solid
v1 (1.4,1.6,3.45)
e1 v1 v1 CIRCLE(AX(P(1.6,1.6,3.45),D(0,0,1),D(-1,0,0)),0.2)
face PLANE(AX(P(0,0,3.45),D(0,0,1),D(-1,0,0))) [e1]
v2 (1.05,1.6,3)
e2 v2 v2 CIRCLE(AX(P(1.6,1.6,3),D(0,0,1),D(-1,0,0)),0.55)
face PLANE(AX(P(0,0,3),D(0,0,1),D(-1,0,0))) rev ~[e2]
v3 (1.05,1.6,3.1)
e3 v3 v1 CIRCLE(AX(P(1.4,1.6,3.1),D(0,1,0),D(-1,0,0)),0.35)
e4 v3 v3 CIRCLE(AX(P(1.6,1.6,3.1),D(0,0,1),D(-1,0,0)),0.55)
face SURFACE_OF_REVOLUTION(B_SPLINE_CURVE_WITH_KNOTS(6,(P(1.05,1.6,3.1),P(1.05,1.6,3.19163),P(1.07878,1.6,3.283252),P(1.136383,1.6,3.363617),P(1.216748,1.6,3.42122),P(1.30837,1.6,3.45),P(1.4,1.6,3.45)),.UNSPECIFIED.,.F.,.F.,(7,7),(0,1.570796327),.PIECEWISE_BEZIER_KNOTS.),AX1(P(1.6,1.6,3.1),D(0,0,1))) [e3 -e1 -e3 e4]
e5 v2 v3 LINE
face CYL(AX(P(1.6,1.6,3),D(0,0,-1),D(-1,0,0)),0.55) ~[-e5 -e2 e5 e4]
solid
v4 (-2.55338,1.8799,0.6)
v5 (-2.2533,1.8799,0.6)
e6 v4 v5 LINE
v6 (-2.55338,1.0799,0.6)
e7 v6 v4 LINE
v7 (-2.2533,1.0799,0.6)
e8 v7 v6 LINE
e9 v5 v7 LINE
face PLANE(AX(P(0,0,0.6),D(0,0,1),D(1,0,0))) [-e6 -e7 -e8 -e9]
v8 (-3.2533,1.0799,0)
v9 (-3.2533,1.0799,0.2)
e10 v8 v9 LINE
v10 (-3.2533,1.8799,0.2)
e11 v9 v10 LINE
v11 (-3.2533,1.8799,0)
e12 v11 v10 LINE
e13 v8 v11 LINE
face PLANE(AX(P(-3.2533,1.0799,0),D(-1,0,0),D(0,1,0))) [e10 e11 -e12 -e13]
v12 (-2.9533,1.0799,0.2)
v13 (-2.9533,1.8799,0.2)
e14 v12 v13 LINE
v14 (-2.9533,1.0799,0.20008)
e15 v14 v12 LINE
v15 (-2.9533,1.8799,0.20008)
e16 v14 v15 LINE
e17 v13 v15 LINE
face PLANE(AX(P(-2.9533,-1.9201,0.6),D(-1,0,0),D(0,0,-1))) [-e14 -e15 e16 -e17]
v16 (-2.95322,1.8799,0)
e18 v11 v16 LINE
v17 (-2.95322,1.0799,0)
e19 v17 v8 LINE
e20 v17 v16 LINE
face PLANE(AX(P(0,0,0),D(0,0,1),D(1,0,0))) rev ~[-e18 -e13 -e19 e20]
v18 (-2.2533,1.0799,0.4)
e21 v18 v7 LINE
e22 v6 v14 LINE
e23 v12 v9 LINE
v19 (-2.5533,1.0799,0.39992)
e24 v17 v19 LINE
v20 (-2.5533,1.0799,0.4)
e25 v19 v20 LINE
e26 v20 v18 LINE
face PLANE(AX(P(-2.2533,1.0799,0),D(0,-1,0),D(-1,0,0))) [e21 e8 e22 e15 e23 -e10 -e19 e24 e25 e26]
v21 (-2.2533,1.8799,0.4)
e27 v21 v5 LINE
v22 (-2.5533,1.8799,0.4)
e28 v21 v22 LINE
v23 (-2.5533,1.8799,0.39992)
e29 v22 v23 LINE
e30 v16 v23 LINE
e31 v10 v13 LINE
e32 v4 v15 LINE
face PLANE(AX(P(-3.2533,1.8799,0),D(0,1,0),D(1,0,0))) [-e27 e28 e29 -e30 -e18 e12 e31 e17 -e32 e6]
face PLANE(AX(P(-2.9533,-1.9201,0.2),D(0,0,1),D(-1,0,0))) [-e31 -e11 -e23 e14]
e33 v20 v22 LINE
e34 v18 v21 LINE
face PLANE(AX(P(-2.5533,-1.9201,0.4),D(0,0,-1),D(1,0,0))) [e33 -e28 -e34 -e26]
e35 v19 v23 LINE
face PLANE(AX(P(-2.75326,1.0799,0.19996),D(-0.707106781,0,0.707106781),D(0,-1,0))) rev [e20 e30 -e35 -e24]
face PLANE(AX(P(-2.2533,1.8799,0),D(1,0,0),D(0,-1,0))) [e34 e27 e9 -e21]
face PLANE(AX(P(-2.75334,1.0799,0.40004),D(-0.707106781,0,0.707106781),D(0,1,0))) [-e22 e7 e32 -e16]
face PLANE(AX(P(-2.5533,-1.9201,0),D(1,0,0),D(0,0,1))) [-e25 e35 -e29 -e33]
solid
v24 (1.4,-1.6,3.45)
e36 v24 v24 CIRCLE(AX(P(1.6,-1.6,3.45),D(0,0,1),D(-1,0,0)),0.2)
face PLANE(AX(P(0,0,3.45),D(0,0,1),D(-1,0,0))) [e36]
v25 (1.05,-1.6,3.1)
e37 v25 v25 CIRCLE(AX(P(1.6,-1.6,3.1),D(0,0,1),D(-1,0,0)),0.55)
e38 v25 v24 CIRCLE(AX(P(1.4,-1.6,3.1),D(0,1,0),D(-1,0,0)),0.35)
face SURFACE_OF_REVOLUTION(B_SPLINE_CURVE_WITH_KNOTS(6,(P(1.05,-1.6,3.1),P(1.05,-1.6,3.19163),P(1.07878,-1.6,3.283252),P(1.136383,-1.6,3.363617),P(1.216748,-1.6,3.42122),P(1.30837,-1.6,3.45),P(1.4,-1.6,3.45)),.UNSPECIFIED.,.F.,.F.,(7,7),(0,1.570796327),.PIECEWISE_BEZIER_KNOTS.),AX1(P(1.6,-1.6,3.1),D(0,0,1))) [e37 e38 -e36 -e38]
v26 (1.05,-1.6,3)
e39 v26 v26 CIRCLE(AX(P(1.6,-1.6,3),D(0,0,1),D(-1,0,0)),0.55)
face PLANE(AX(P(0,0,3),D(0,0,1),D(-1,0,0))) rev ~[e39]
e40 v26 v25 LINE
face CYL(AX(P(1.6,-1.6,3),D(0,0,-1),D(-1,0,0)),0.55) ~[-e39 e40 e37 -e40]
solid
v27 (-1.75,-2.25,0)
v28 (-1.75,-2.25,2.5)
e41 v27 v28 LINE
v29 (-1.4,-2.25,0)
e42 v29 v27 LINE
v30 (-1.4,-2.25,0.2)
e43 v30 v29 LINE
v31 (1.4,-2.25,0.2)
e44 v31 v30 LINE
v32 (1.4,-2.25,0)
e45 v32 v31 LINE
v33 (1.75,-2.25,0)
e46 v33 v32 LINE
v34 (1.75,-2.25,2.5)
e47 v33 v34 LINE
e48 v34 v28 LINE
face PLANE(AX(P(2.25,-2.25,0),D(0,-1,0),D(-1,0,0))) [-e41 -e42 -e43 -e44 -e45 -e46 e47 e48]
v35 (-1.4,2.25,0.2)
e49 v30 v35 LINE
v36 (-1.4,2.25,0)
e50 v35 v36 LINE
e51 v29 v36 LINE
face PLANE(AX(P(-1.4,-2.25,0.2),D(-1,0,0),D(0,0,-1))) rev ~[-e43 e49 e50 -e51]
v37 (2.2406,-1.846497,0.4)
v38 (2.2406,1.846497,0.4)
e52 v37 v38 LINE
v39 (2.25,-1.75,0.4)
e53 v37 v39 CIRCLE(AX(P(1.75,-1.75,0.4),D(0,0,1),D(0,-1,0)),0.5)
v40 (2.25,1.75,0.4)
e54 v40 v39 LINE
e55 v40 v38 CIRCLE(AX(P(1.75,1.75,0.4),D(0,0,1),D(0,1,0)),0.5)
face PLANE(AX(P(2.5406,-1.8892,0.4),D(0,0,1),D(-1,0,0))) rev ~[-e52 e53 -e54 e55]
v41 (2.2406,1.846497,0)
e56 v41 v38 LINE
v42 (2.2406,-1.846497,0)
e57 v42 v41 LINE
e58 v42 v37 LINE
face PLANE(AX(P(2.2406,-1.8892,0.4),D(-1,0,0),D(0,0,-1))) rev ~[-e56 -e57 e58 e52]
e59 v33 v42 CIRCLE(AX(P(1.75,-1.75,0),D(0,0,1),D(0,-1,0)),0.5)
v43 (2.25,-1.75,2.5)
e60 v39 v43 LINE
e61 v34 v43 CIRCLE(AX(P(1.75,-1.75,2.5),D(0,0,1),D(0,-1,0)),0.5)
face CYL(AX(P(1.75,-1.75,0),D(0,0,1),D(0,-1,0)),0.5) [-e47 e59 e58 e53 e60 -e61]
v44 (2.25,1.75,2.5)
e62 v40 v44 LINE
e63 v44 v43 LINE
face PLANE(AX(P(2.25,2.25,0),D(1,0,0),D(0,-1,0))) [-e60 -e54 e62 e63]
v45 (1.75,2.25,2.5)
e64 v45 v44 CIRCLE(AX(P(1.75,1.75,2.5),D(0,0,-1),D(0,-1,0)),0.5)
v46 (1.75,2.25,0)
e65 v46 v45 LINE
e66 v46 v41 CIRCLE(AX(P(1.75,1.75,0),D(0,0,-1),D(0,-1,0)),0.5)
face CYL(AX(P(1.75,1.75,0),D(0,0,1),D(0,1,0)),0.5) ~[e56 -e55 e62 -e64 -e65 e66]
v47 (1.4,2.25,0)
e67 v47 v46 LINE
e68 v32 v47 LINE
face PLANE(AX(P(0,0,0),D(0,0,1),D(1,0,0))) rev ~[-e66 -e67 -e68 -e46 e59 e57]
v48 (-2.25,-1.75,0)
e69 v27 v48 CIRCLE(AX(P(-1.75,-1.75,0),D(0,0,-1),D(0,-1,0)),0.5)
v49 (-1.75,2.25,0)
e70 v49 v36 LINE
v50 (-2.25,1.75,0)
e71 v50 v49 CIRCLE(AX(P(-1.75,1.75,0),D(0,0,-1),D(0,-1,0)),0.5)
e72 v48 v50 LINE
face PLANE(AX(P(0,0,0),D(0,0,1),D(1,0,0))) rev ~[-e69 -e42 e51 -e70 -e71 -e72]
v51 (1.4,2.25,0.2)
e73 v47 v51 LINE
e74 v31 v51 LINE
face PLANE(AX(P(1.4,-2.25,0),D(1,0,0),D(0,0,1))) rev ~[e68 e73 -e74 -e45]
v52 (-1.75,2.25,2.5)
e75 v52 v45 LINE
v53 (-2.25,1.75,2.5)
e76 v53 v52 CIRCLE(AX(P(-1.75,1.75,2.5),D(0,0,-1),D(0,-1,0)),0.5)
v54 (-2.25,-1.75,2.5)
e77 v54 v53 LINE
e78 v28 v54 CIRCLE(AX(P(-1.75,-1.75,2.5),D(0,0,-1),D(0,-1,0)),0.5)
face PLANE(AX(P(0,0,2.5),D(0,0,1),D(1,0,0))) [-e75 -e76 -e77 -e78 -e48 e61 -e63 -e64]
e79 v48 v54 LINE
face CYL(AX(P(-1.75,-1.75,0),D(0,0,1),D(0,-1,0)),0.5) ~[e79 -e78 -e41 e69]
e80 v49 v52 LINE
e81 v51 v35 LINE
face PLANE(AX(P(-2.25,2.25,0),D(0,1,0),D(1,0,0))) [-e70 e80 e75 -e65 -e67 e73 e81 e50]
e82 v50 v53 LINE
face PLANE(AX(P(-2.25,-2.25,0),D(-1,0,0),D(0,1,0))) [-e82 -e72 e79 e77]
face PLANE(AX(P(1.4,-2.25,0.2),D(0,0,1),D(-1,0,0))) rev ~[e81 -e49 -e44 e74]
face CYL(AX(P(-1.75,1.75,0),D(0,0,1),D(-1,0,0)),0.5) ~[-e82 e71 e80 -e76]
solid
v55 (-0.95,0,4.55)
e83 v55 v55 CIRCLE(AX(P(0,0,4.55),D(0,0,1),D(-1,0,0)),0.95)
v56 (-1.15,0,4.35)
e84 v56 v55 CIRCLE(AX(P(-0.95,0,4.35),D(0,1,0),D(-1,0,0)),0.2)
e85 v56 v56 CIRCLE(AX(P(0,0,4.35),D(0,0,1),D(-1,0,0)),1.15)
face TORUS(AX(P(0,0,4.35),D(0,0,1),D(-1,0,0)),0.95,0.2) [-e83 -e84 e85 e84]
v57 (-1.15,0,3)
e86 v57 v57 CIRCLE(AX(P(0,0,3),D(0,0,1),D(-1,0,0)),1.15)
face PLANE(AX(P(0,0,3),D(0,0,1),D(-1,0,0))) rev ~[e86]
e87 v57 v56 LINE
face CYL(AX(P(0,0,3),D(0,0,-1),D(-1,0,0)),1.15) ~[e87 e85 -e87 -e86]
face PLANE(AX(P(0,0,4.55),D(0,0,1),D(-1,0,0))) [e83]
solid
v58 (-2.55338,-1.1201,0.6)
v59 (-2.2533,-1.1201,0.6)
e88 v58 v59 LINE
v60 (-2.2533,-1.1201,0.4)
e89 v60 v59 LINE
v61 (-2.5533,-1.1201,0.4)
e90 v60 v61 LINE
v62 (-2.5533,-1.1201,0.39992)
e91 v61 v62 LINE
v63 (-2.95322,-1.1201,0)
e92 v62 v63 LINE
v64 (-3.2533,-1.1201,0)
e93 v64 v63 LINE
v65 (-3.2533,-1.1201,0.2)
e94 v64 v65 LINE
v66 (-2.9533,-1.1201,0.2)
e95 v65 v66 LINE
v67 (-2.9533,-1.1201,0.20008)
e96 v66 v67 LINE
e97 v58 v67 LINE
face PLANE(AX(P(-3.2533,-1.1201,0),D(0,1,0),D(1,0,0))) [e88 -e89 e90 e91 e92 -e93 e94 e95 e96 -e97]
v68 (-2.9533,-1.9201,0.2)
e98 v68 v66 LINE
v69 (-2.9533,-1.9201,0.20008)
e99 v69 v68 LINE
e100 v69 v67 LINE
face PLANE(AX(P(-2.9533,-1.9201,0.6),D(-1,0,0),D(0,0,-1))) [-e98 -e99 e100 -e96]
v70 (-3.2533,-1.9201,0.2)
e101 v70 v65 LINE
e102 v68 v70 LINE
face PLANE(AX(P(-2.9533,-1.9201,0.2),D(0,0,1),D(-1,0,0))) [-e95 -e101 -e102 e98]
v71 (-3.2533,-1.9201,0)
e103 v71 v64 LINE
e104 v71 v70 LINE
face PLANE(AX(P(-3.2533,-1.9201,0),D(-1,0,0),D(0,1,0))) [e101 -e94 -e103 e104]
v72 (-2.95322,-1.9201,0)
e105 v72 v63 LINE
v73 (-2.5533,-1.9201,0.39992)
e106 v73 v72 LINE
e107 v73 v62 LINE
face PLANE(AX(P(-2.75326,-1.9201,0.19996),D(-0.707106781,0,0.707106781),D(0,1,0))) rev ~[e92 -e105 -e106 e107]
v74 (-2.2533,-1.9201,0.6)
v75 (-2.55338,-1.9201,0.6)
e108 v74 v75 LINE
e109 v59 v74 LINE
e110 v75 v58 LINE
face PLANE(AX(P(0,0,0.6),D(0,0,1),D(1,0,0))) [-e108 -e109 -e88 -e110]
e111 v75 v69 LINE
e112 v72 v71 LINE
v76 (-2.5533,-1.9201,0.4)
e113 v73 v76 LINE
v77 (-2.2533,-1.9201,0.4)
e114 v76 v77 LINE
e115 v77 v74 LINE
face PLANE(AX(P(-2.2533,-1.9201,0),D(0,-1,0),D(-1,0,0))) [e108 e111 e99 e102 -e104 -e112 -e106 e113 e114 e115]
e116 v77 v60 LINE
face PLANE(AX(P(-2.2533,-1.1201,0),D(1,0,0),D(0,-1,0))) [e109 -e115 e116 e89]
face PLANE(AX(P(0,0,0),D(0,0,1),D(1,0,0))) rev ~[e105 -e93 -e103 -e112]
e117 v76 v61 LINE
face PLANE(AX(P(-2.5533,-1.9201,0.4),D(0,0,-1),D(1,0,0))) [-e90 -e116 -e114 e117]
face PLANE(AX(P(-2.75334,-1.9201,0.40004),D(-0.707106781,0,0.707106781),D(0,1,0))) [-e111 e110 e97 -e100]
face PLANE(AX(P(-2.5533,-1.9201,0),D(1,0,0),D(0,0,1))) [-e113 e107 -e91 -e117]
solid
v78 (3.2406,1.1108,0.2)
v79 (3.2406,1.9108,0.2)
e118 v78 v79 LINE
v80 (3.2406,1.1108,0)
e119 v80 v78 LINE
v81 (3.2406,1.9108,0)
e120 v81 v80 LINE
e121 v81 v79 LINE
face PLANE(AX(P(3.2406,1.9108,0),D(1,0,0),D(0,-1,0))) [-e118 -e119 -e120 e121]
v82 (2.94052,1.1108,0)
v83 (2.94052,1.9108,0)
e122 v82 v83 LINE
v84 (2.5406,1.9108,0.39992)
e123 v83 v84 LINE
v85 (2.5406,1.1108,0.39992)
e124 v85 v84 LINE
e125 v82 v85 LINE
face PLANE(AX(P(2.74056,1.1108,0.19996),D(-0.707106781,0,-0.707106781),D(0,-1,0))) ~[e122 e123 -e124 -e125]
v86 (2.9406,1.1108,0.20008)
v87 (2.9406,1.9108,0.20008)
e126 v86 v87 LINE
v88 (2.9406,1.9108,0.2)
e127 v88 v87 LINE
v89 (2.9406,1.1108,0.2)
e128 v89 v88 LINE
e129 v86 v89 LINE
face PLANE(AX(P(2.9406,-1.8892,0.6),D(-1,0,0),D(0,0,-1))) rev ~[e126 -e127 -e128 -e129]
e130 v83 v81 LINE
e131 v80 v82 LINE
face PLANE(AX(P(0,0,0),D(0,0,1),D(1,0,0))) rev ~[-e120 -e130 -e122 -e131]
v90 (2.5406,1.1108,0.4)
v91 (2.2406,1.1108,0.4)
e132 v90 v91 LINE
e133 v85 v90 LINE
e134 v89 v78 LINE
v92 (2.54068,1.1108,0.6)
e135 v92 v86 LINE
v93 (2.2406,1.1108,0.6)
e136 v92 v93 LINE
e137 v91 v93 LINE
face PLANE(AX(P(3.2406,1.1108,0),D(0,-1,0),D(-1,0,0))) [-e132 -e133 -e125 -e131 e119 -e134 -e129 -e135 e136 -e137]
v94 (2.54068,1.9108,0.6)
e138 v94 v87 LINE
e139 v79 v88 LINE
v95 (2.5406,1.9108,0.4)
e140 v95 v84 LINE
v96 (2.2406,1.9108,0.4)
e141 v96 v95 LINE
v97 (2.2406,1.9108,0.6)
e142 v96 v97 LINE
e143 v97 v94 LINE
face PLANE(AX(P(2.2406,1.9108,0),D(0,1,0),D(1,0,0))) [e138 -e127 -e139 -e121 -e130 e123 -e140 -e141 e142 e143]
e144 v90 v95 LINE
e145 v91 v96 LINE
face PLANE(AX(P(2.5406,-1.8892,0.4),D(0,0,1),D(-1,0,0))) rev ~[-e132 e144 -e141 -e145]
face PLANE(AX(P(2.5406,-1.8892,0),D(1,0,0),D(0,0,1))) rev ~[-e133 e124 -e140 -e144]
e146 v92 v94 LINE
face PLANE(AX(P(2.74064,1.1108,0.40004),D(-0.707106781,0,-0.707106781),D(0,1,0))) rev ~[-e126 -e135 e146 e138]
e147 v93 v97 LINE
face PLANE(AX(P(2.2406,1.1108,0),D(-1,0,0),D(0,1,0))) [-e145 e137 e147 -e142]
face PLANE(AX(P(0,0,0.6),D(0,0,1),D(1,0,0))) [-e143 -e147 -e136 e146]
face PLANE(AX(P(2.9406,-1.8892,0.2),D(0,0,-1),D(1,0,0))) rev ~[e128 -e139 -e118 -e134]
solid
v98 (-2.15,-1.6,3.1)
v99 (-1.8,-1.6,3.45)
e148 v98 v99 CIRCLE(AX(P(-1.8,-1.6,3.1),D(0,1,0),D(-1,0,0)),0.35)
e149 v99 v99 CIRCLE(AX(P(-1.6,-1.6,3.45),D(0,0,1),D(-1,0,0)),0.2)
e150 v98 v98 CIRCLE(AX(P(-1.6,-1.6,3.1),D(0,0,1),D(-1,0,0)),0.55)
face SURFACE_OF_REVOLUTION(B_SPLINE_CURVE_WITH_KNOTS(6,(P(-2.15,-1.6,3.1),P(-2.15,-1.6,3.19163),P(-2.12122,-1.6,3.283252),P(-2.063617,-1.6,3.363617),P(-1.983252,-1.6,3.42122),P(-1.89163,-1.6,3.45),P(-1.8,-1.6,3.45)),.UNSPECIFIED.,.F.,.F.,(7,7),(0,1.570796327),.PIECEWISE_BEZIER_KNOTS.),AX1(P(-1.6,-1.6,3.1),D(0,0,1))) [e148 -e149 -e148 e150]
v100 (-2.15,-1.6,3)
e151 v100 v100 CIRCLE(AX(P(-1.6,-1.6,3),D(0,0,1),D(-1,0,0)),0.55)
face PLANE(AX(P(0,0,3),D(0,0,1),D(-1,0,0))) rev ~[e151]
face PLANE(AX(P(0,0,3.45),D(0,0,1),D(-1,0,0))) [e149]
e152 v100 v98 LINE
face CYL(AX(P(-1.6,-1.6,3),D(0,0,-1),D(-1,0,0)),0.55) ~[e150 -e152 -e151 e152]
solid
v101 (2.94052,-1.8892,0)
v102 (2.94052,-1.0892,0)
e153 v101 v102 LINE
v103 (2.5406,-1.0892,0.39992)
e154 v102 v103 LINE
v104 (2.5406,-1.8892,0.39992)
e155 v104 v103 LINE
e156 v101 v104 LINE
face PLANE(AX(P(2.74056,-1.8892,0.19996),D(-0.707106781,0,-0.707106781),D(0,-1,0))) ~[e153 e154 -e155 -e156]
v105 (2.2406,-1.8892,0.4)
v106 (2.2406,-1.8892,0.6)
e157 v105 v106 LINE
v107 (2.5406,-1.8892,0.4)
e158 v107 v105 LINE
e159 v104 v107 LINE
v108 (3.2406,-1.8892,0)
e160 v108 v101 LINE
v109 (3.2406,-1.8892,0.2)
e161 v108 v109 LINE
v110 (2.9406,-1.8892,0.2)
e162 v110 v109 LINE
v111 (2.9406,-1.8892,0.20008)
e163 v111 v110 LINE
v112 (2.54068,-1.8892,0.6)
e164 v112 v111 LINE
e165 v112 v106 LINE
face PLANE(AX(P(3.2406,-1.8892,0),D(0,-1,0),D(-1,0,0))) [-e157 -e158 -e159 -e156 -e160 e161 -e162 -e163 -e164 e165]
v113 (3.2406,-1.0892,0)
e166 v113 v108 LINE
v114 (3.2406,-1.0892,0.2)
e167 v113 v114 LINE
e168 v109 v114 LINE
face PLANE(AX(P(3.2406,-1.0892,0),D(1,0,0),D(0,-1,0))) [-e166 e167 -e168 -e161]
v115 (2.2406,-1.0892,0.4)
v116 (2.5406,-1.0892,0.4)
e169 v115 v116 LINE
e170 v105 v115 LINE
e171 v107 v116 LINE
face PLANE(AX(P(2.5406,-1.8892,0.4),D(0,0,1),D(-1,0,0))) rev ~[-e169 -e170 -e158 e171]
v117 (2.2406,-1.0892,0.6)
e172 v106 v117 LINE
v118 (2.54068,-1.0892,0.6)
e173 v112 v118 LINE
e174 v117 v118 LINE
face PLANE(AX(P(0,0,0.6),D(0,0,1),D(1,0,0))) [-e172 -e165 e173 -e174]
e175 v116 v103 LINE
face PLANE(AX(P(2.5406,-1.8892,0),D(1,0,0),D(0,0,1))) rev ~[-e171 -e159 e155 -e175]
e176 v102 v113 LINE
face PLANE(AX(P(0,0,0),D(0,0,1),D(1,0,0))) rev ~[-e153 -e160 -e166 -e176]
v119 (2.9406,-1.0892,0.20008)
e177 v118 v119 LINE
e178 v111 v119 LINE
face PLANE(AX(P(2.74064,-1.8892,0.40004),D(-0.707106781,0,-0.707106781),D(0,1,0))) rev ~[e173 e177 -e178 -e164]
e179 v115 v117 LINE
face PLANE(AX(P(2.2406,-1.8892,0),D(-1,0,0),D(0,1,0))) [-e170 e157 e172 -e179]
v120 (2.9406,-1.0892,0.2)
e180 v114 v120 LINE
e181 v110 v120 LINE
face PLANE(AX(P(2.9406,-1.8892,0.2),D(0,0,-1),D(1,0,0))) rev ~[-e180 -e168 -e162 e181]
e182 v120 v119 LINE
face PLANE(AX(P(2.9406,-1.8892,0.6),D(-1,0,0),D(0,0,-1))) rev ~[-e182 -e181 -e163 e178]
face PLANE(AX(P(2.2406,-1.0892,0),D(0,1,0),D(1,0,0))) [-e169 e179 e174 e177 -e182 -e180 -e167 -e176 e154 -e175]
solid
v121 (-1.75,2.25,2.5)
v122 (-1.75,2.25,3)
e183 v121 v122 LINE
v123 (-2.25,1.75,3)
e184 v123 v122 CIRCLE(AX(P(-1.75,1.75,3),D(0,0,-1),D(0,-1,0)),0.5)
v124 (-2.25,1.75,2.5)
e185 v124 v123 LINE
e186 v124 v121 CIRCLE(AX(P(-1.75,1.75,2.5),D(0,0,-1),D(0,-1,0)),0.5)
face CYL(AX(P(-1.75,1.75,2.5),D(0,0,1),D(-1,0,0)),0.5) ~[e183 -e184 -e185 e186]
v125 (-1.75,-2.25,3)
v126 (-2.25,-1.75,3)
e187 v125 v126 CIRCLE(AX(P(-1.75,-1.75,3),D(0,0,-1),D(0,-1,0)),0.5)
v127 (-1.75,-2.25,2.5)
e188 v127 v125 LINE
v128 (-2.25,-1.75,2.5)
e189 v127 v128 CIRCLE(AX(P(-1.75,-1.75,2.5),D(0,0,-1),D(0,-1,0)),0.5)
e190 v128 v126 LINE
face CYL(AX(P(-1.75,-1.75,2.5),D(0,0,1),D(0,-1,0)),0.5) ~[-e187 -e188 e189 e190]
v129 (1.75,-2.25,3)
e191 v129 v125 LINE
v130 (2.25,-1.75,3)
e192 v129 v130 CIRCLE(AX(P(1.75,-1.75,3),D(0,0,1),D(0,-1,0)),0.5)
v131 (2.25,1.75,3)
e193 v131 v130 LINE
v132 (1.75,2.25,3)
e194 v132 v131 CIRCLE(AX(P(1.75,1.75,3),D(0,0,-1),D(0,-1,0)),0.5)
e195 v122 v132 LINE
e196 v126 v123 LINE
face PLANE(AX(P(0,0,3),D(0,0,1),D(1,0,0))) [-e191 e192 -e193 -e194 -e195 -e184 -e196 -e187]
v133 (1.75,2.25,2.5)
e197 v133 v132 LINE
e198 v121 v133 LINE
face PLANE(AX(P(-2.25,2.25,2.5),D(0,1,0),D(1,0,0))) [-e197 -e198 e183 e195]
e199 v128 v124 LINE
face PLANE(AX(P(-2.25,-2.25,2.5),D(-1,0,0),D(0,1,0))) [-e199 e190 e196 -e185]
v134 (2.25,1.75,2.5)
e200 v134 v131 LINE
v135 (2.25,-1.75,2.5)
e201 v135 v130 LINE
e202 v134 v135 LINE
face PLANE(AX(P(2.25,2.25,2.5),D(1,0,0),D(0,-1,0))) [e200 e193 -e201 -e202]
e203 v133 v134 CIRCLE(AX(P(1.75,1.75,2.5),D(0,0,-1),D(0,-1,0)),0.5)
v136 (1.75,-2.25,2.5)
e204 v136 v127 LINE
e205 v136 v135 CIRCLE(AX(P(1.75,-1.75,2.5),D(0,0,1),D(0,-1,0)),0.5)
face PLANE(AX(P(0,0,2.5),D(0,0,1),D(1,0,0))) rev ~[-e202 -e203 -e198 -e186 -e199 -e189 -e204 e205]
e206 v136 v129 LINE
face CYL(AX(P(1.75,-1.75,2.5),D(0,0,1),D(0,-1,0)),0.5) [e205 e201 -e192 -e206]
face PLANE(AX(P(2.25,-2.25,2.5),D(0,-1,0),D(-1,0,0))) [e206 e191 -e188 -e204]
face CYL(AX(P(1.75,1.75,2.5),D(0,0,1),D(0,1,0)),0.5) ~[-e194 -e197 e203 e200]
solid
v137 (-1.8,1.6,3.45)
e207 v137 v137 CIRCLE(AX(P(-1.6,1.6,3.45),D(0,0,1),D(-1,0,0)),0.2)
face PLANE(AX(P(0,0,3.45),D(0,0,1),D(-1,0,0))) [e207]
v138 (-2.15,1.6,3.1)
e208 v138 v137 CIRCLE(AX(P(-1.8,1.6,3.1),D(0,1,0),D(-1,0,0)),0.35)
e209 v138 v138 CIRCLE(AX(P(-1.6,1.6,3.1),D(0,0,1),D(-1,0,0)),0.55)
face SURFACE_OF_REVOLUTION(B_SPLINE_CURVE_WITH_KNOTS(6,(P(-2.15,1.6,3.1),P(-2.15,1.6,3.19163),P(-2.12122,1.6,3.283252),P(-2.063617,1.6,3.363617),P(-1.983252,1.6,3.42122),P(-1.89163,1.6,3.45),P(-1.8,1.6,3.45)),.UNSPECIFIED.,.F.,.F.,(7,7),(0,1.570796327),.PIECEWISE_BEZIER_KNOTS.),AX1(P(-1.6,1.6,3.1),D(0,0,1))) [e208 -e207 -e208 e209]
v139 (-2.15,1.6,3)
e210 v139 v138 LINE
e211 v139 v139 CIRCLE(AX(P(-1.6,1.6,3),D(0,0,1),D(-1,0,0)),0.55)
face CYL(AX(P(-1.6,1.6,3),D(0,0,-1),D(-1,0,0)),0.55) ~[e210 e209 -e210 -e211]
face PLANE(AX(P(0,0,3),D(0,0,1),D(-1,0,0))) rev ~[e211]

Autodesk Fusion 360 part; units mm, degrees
sketch "Sketch1" plane through (0, 0, 0) normal (0, 0, 1) x (1, 0, 0)
  line L0 (2.25, -2.25) -> (-2.25, -2.25)
  line L1 (-2.25, -2.25) -> (-2.25, 2.25)
  line L2 (-2.25, 2.25) -> (2.25, 2.25)
  line L3 (2.25, 2.25) -> (2.25, -2.25)
  line L4 (2.25, -2.25) -> (-2.25, 2.25) construction
  line L5 (-2.25, -2.25) -> (2.25, 2.25) construction
  dimension "d1" = 4.5
  dimension "d2" = 4.5
extrude "Extrude1" add sketch "Sketch1" along normal blind 2.5 makes body 1
extrude "Extrude2" add 1 faces at (0.75, -0.75, 2.5) along direction (0, 0, 1) blind 0.5 separate body on bodies 1 makes body 2
sketch "Sketch2" plane through (0, 0, 3) normal (0, 0, 1) x (-1, 0, 0)
  line L0 (-2.25, -2.25) -> (2.25, -2.25)
  line L1 (2.25, -2.25) -> (2.25, 2.25)
  line L2 (2.25, 2.25) -> (-2.25, 2.25)
  line L3 (-2.25, 2.25) -> (-2.25, -2.25)
  circle A0 centre (0, 0) radius 1.15
  circle A1 centre (1.6, -1.6) radius 0.55
  circle A2 centre (-1.6, -1.6) radius 0.55
  circle A3 centre (1.6, 1.6) radius 0.55
  circle A4 centre (-1.6, 1.6) radius 0.55
  dimension "d7" = 2.3
  dimension "d8" = 1.1
  dimension "d9" = 0.65
  dimension "d10" = 0.65
  dimension "d13" = -3.2
  dimension "d14" = 3.2
extrude "Extrude3" add sketch "Sketch2" along normal blind 1.55 separate body contours A0 makes body 3
extrude "Extrude4" add sketch "Sketch2" along normal blind 0.45 separate body contours A1 | A2 | A3 | A4 makes body 4 at (-2.1473, 1.6548, 3.15) makes body 5 at (1.0527, 1.6548, 3.15) makes body 6 at (-2.1473, -1.5452, 3.15) makes body 7 at (1.0527, -1.5452, 3.15)
fillet "Fillet1" radius 0.5 8 edges at (2.25, -2.25, 1.25) (-2.25, -2.25, 1.25) (-2.25, 2.25, 1.25) (2.25, 2.25, 1.25) (2.25, -2.25, 2.75) (-2.25, -2.25, 2.75) (-2.25, 2.25, 2.75) (2.25, 2.25, 2.75) on bodies 1 2
fillet "Fillet2" radius 0.35 4 edges at (-1.0872, 1.7989, 3.45) (2.1128, 1.7989, 3.45) (-1.0872, -1.4011, 3.45) (2.1128, -1.4011, 3.45) on bodies 4 5 6 7
fillet "Fillet3" radius 0.2 1 edges at (1.0722, 0.4159, 4.55) on bodies 3
sketch "Sketch3" plane through (0, -2.25, 0) normal (0, -1, 0) x (1, 0, 0)
  line L0 (-1.75, 2.5) -> (-1.75, 0)
  line L1 (-1.75, 0) -> (1.75, 0)
  line L2 (1.75, 0) -> (1.75, 2.5)
  line L3 (1.75, 2.5) -> (-1.75, 2.5)
  line L4 (1.4, 0.2) -> (-1.4, 0.2)
  line L5 (-1.4, 0.2) -> (-1.4, 0)
  line L6 (1.4, 0) -> (1.4, 0.2)
extrude "Extrude5" cut sketch "Sketch3" against normal blind 4.5 contours L1 L4 L5 L6 bodies 1
sketch "Sketch4" plane through (0, 0, 0) normal (0, 0, 1) x (1, 0, 0)
  line L0 (-2.2533, 2.6048) -> (-2.2533, -2.6449) construction
  line L1 (3.1297, -2.259) -> (-2.9, -2.259) construction
  line L2 (-2.2533, -0.0201) -> (-2.2533, 1.4799) construction
  line L3 (-2.2533, -0.0201) -> (-2.2533, -1.5201) construction
  line L4 (2.2406, 0.0108) -> (2.2406, 1.5108) construction
  line L5 (2.2406, 0.0108) -> (2.2406, -1.4892) construction
  line L6 (-3.2533, 1.8799) -> (-2.2533, 1.8799)
  line L7 (-2.2533, 1.8799) -> (-2.2533, 1.0799)
  line L8 (-2.2533, 1.0799) -> (-3.2533, 1.0799)
  line L9 (-3.2533, 1.0799) -> (-3.2533, 1.8799)
  line L10 (-2.2533, 1.0799) -> (-3.2533, 1.8799) construction
  line L11 (-3.2533, 1.0799) -> (-2.2533, 1.8799) construction
  line L12 (-2.7533, 1.4799) -> (-3.2533, 1.4799) construction
  line L13 (-3.2533, 1.4799) -> (-2.7533, 1.4799) construction
  line L14 (-2.7533, 1.4799) -> (-2.2533, 1.4799) construction
  line L15 (3.2406, -1.0892) -> (3.2406, -1.8892)
  line L16 (2.2406, -1.8892) -> (3.2406, -1.0892) construction
  line L17 (2.2406, -1.4892) -> (2.7406, -1.4892) construction
  line L18 (2.7406, -1.4892) -> (2.2406, -1.4892) construction
  line L19 (2.7406, -1.4892) -> (3.2406, -1.4892) construction
  line L20 (3.2406, -1.8892) -> (2.2406, -1.8892)
  line L21 (3.2406, -1.8892) -> (2.2406, -1.0892) construction
  line L22 (2.2406, -1.8892) -> (2.2406, -1.0892)
  line L23 (2.2406, -1.0892) -> (3.2406, -1.0892)
  line L24 (2.2406, 1.5108) -> (2.7406, 1.5108) construction
  line L25 (3.2406, 1.9108) -> (3.2406, 1.1108)
  line L26 (2.7406, 1.5108) -> (3.2406, 1.5108) construction
  line L27 (2.2406, 1.1108) -> (3.2406, 1.9108) construction
  line L28 (3.2406, 1.1108) -> (2.2406, 1.9108) construction
  line L29 (3.2406, 1.1108) -> (2.2406, 1.1108)
  line L30 (2.2406, 1.1108) -> (2.2406, 1.9108)
  line L31 (2.2406, 1.9108) -> (3.2406, 1.9108)
  line L32 (2.7406, 1.5108) -> (2.2406, 1.5108) construction
  line L33 (-2.2533, -1.1201) -> (-2.2533, -1.9201)
  line L34 (-3.2533, -1.1201) -> (-2.2533, -1.1201)
  line L35 (-2.7533, -1.5201) -> (-2.2533, -1.5201) construction
  line L36 (-3.2533, -1.9201) -> (-2.2533, -1.1201) construction
  line L37 (-2.2533, -1.9201) -> (-3.2533, -1.1201) construction
  line L38 (-2.2533, -1.9201) -> (-3.2533, -1.9201)
  line L39 (-2.7533, -1.5201) -> (-3.2533, -1.5201) construction
  line L40 (-3.2533, -1.5201) -> (-2.7533, -1.5201) construction
  line L41 (-3.2533, -1.9201) -> (-3.2533, -1.1201)
  dimension "d27" = 1.5
  dimension "d28" = 1.5
  dimension "d29" = 1.5
  dimension "d30" = 1.5
  dimension "d31" = 1
  dimension "d32" = 0.8
  dimension "d33" = 1
  dimension "d34" = 0.8
  dimension "d35" = 1
  dimension "d36" = 0.8
  dimension "d37" = 1
  dimension "d38" = 0.8
extrude "Extrude6" add sketch "Sketch4" along normal blind 0.6 separate body makes body 8 at (-2.9199, -1.6534, 0) makes body 9 at (2.9073, -1.6226, 0) makes body 10 at (-2.9199, 1.3466, 0) makes body 11 at (2.574, 1.6441, 0)
sketch "Sketch5" plane through (0, -1.8892, 0) normal (0, -1, 0) x (1, 0, 0)
  line L0 (2.2406, 0) -> (3.2406, 0)
  line L1 (3.2406, 0) -> (3.2406, 0.6)
  line L2 (3.2406, 0.6) -> (2.2406, 0.6)
  line L3 (2.2406, 0.6) -> (2.2406, 0)
  line L4 (3.2406, 0.6) -> (2.9406, 0.6)
  line L5 (2.9406, 0.6) -> (2.9406, 0.2)
  line L6 (2.9406, 0.2) -> (3.2406, 0.2)
  line L7 (3.2406, 0.2) -> (3.2406, 0.6)
  line L8 (2.2406, 0) -> (2.5406, 0)
  line L9 (2.5406, 0) -> (2.5406, 0.4)
  line L10 (2.5406, 0.4) -> (2.2406, 0.4)
  line L11 (2.2406, 0.4) -> (2.2406, 0)
  dimension "d41" = 0.3
  dimension "d42" = 0.4
  dimension "d43" = 0.3
  dimension "d44" = 0.4
extrude "Extrude7" cut sketch "Sketch5" against normal blind 4.5 contours L0 L3 L8 L9 L10 L11 | L1 L2 L4 L5 L6 L7 bodies 1 9 11
sketch "Sketch6" plane through (0, -1.9201, 0) normal (0, -1, 0) x (1, 0, 0)
  line L0 (-3.2533, 0) -> (-2.2533, 0)
  line L1 (-2.2533, 0) -> (-2.2533, 0.6)
  line L2 (-2.2533, 0.6) -> (-3.2533, 0.6)
  line L3 (-3.2533, 0.6) -> (-3.2533, 0)
  line L4 (-3.2533, 0.6) -> (-2.9533, 0.6)
  line L5 (-2.9533, 0.6) -> (-2.9533, 0.2)
  line L6 (-2.9533, 0.2) -> (-3.2533, 0.2)
  line L7 (-3.2533, 0.2) -> (-3.2533, 0.6)
  line L8 (-2.2533, 0) -> (-2.5533, 0)
  line L9 (-2.5533, 0) -> (-2.5533, 0.4)
  line L10 (-2.5533, 0.4) -> (-2.2533, 0.4)
  line L11 (-2.2533, 0.4) -> (-2.2533, 0)
  dimension "d47" = 0.3
  dimension "d48" = 0.4
  dimension "d49" = 0.3
  dimension "d50" = 0.4
extrude "Extrude8" cut sketch "Sketch6" against normal blind 4.5 contours L0 L1 L8 L9 L10 L11 | L2 L3 L4 L5 L6 L7 bodies 8 10
chamfer "Chamfer1" distance 0.4 angle 45 8 edges at (-2.9533, 1.4799, 0.6) (-2.5533, 1.4799, 0) (-2.9533, -1.5201, 0.6) (-2.5533, -1.5201, 0) (2.9406, 1.5108, 0.6) (2.5406, 1.5108, 0) (2.9406, -1.4892, 0.6) (2.5406, -1.4892, 0) on bodies 8 9 10 11
